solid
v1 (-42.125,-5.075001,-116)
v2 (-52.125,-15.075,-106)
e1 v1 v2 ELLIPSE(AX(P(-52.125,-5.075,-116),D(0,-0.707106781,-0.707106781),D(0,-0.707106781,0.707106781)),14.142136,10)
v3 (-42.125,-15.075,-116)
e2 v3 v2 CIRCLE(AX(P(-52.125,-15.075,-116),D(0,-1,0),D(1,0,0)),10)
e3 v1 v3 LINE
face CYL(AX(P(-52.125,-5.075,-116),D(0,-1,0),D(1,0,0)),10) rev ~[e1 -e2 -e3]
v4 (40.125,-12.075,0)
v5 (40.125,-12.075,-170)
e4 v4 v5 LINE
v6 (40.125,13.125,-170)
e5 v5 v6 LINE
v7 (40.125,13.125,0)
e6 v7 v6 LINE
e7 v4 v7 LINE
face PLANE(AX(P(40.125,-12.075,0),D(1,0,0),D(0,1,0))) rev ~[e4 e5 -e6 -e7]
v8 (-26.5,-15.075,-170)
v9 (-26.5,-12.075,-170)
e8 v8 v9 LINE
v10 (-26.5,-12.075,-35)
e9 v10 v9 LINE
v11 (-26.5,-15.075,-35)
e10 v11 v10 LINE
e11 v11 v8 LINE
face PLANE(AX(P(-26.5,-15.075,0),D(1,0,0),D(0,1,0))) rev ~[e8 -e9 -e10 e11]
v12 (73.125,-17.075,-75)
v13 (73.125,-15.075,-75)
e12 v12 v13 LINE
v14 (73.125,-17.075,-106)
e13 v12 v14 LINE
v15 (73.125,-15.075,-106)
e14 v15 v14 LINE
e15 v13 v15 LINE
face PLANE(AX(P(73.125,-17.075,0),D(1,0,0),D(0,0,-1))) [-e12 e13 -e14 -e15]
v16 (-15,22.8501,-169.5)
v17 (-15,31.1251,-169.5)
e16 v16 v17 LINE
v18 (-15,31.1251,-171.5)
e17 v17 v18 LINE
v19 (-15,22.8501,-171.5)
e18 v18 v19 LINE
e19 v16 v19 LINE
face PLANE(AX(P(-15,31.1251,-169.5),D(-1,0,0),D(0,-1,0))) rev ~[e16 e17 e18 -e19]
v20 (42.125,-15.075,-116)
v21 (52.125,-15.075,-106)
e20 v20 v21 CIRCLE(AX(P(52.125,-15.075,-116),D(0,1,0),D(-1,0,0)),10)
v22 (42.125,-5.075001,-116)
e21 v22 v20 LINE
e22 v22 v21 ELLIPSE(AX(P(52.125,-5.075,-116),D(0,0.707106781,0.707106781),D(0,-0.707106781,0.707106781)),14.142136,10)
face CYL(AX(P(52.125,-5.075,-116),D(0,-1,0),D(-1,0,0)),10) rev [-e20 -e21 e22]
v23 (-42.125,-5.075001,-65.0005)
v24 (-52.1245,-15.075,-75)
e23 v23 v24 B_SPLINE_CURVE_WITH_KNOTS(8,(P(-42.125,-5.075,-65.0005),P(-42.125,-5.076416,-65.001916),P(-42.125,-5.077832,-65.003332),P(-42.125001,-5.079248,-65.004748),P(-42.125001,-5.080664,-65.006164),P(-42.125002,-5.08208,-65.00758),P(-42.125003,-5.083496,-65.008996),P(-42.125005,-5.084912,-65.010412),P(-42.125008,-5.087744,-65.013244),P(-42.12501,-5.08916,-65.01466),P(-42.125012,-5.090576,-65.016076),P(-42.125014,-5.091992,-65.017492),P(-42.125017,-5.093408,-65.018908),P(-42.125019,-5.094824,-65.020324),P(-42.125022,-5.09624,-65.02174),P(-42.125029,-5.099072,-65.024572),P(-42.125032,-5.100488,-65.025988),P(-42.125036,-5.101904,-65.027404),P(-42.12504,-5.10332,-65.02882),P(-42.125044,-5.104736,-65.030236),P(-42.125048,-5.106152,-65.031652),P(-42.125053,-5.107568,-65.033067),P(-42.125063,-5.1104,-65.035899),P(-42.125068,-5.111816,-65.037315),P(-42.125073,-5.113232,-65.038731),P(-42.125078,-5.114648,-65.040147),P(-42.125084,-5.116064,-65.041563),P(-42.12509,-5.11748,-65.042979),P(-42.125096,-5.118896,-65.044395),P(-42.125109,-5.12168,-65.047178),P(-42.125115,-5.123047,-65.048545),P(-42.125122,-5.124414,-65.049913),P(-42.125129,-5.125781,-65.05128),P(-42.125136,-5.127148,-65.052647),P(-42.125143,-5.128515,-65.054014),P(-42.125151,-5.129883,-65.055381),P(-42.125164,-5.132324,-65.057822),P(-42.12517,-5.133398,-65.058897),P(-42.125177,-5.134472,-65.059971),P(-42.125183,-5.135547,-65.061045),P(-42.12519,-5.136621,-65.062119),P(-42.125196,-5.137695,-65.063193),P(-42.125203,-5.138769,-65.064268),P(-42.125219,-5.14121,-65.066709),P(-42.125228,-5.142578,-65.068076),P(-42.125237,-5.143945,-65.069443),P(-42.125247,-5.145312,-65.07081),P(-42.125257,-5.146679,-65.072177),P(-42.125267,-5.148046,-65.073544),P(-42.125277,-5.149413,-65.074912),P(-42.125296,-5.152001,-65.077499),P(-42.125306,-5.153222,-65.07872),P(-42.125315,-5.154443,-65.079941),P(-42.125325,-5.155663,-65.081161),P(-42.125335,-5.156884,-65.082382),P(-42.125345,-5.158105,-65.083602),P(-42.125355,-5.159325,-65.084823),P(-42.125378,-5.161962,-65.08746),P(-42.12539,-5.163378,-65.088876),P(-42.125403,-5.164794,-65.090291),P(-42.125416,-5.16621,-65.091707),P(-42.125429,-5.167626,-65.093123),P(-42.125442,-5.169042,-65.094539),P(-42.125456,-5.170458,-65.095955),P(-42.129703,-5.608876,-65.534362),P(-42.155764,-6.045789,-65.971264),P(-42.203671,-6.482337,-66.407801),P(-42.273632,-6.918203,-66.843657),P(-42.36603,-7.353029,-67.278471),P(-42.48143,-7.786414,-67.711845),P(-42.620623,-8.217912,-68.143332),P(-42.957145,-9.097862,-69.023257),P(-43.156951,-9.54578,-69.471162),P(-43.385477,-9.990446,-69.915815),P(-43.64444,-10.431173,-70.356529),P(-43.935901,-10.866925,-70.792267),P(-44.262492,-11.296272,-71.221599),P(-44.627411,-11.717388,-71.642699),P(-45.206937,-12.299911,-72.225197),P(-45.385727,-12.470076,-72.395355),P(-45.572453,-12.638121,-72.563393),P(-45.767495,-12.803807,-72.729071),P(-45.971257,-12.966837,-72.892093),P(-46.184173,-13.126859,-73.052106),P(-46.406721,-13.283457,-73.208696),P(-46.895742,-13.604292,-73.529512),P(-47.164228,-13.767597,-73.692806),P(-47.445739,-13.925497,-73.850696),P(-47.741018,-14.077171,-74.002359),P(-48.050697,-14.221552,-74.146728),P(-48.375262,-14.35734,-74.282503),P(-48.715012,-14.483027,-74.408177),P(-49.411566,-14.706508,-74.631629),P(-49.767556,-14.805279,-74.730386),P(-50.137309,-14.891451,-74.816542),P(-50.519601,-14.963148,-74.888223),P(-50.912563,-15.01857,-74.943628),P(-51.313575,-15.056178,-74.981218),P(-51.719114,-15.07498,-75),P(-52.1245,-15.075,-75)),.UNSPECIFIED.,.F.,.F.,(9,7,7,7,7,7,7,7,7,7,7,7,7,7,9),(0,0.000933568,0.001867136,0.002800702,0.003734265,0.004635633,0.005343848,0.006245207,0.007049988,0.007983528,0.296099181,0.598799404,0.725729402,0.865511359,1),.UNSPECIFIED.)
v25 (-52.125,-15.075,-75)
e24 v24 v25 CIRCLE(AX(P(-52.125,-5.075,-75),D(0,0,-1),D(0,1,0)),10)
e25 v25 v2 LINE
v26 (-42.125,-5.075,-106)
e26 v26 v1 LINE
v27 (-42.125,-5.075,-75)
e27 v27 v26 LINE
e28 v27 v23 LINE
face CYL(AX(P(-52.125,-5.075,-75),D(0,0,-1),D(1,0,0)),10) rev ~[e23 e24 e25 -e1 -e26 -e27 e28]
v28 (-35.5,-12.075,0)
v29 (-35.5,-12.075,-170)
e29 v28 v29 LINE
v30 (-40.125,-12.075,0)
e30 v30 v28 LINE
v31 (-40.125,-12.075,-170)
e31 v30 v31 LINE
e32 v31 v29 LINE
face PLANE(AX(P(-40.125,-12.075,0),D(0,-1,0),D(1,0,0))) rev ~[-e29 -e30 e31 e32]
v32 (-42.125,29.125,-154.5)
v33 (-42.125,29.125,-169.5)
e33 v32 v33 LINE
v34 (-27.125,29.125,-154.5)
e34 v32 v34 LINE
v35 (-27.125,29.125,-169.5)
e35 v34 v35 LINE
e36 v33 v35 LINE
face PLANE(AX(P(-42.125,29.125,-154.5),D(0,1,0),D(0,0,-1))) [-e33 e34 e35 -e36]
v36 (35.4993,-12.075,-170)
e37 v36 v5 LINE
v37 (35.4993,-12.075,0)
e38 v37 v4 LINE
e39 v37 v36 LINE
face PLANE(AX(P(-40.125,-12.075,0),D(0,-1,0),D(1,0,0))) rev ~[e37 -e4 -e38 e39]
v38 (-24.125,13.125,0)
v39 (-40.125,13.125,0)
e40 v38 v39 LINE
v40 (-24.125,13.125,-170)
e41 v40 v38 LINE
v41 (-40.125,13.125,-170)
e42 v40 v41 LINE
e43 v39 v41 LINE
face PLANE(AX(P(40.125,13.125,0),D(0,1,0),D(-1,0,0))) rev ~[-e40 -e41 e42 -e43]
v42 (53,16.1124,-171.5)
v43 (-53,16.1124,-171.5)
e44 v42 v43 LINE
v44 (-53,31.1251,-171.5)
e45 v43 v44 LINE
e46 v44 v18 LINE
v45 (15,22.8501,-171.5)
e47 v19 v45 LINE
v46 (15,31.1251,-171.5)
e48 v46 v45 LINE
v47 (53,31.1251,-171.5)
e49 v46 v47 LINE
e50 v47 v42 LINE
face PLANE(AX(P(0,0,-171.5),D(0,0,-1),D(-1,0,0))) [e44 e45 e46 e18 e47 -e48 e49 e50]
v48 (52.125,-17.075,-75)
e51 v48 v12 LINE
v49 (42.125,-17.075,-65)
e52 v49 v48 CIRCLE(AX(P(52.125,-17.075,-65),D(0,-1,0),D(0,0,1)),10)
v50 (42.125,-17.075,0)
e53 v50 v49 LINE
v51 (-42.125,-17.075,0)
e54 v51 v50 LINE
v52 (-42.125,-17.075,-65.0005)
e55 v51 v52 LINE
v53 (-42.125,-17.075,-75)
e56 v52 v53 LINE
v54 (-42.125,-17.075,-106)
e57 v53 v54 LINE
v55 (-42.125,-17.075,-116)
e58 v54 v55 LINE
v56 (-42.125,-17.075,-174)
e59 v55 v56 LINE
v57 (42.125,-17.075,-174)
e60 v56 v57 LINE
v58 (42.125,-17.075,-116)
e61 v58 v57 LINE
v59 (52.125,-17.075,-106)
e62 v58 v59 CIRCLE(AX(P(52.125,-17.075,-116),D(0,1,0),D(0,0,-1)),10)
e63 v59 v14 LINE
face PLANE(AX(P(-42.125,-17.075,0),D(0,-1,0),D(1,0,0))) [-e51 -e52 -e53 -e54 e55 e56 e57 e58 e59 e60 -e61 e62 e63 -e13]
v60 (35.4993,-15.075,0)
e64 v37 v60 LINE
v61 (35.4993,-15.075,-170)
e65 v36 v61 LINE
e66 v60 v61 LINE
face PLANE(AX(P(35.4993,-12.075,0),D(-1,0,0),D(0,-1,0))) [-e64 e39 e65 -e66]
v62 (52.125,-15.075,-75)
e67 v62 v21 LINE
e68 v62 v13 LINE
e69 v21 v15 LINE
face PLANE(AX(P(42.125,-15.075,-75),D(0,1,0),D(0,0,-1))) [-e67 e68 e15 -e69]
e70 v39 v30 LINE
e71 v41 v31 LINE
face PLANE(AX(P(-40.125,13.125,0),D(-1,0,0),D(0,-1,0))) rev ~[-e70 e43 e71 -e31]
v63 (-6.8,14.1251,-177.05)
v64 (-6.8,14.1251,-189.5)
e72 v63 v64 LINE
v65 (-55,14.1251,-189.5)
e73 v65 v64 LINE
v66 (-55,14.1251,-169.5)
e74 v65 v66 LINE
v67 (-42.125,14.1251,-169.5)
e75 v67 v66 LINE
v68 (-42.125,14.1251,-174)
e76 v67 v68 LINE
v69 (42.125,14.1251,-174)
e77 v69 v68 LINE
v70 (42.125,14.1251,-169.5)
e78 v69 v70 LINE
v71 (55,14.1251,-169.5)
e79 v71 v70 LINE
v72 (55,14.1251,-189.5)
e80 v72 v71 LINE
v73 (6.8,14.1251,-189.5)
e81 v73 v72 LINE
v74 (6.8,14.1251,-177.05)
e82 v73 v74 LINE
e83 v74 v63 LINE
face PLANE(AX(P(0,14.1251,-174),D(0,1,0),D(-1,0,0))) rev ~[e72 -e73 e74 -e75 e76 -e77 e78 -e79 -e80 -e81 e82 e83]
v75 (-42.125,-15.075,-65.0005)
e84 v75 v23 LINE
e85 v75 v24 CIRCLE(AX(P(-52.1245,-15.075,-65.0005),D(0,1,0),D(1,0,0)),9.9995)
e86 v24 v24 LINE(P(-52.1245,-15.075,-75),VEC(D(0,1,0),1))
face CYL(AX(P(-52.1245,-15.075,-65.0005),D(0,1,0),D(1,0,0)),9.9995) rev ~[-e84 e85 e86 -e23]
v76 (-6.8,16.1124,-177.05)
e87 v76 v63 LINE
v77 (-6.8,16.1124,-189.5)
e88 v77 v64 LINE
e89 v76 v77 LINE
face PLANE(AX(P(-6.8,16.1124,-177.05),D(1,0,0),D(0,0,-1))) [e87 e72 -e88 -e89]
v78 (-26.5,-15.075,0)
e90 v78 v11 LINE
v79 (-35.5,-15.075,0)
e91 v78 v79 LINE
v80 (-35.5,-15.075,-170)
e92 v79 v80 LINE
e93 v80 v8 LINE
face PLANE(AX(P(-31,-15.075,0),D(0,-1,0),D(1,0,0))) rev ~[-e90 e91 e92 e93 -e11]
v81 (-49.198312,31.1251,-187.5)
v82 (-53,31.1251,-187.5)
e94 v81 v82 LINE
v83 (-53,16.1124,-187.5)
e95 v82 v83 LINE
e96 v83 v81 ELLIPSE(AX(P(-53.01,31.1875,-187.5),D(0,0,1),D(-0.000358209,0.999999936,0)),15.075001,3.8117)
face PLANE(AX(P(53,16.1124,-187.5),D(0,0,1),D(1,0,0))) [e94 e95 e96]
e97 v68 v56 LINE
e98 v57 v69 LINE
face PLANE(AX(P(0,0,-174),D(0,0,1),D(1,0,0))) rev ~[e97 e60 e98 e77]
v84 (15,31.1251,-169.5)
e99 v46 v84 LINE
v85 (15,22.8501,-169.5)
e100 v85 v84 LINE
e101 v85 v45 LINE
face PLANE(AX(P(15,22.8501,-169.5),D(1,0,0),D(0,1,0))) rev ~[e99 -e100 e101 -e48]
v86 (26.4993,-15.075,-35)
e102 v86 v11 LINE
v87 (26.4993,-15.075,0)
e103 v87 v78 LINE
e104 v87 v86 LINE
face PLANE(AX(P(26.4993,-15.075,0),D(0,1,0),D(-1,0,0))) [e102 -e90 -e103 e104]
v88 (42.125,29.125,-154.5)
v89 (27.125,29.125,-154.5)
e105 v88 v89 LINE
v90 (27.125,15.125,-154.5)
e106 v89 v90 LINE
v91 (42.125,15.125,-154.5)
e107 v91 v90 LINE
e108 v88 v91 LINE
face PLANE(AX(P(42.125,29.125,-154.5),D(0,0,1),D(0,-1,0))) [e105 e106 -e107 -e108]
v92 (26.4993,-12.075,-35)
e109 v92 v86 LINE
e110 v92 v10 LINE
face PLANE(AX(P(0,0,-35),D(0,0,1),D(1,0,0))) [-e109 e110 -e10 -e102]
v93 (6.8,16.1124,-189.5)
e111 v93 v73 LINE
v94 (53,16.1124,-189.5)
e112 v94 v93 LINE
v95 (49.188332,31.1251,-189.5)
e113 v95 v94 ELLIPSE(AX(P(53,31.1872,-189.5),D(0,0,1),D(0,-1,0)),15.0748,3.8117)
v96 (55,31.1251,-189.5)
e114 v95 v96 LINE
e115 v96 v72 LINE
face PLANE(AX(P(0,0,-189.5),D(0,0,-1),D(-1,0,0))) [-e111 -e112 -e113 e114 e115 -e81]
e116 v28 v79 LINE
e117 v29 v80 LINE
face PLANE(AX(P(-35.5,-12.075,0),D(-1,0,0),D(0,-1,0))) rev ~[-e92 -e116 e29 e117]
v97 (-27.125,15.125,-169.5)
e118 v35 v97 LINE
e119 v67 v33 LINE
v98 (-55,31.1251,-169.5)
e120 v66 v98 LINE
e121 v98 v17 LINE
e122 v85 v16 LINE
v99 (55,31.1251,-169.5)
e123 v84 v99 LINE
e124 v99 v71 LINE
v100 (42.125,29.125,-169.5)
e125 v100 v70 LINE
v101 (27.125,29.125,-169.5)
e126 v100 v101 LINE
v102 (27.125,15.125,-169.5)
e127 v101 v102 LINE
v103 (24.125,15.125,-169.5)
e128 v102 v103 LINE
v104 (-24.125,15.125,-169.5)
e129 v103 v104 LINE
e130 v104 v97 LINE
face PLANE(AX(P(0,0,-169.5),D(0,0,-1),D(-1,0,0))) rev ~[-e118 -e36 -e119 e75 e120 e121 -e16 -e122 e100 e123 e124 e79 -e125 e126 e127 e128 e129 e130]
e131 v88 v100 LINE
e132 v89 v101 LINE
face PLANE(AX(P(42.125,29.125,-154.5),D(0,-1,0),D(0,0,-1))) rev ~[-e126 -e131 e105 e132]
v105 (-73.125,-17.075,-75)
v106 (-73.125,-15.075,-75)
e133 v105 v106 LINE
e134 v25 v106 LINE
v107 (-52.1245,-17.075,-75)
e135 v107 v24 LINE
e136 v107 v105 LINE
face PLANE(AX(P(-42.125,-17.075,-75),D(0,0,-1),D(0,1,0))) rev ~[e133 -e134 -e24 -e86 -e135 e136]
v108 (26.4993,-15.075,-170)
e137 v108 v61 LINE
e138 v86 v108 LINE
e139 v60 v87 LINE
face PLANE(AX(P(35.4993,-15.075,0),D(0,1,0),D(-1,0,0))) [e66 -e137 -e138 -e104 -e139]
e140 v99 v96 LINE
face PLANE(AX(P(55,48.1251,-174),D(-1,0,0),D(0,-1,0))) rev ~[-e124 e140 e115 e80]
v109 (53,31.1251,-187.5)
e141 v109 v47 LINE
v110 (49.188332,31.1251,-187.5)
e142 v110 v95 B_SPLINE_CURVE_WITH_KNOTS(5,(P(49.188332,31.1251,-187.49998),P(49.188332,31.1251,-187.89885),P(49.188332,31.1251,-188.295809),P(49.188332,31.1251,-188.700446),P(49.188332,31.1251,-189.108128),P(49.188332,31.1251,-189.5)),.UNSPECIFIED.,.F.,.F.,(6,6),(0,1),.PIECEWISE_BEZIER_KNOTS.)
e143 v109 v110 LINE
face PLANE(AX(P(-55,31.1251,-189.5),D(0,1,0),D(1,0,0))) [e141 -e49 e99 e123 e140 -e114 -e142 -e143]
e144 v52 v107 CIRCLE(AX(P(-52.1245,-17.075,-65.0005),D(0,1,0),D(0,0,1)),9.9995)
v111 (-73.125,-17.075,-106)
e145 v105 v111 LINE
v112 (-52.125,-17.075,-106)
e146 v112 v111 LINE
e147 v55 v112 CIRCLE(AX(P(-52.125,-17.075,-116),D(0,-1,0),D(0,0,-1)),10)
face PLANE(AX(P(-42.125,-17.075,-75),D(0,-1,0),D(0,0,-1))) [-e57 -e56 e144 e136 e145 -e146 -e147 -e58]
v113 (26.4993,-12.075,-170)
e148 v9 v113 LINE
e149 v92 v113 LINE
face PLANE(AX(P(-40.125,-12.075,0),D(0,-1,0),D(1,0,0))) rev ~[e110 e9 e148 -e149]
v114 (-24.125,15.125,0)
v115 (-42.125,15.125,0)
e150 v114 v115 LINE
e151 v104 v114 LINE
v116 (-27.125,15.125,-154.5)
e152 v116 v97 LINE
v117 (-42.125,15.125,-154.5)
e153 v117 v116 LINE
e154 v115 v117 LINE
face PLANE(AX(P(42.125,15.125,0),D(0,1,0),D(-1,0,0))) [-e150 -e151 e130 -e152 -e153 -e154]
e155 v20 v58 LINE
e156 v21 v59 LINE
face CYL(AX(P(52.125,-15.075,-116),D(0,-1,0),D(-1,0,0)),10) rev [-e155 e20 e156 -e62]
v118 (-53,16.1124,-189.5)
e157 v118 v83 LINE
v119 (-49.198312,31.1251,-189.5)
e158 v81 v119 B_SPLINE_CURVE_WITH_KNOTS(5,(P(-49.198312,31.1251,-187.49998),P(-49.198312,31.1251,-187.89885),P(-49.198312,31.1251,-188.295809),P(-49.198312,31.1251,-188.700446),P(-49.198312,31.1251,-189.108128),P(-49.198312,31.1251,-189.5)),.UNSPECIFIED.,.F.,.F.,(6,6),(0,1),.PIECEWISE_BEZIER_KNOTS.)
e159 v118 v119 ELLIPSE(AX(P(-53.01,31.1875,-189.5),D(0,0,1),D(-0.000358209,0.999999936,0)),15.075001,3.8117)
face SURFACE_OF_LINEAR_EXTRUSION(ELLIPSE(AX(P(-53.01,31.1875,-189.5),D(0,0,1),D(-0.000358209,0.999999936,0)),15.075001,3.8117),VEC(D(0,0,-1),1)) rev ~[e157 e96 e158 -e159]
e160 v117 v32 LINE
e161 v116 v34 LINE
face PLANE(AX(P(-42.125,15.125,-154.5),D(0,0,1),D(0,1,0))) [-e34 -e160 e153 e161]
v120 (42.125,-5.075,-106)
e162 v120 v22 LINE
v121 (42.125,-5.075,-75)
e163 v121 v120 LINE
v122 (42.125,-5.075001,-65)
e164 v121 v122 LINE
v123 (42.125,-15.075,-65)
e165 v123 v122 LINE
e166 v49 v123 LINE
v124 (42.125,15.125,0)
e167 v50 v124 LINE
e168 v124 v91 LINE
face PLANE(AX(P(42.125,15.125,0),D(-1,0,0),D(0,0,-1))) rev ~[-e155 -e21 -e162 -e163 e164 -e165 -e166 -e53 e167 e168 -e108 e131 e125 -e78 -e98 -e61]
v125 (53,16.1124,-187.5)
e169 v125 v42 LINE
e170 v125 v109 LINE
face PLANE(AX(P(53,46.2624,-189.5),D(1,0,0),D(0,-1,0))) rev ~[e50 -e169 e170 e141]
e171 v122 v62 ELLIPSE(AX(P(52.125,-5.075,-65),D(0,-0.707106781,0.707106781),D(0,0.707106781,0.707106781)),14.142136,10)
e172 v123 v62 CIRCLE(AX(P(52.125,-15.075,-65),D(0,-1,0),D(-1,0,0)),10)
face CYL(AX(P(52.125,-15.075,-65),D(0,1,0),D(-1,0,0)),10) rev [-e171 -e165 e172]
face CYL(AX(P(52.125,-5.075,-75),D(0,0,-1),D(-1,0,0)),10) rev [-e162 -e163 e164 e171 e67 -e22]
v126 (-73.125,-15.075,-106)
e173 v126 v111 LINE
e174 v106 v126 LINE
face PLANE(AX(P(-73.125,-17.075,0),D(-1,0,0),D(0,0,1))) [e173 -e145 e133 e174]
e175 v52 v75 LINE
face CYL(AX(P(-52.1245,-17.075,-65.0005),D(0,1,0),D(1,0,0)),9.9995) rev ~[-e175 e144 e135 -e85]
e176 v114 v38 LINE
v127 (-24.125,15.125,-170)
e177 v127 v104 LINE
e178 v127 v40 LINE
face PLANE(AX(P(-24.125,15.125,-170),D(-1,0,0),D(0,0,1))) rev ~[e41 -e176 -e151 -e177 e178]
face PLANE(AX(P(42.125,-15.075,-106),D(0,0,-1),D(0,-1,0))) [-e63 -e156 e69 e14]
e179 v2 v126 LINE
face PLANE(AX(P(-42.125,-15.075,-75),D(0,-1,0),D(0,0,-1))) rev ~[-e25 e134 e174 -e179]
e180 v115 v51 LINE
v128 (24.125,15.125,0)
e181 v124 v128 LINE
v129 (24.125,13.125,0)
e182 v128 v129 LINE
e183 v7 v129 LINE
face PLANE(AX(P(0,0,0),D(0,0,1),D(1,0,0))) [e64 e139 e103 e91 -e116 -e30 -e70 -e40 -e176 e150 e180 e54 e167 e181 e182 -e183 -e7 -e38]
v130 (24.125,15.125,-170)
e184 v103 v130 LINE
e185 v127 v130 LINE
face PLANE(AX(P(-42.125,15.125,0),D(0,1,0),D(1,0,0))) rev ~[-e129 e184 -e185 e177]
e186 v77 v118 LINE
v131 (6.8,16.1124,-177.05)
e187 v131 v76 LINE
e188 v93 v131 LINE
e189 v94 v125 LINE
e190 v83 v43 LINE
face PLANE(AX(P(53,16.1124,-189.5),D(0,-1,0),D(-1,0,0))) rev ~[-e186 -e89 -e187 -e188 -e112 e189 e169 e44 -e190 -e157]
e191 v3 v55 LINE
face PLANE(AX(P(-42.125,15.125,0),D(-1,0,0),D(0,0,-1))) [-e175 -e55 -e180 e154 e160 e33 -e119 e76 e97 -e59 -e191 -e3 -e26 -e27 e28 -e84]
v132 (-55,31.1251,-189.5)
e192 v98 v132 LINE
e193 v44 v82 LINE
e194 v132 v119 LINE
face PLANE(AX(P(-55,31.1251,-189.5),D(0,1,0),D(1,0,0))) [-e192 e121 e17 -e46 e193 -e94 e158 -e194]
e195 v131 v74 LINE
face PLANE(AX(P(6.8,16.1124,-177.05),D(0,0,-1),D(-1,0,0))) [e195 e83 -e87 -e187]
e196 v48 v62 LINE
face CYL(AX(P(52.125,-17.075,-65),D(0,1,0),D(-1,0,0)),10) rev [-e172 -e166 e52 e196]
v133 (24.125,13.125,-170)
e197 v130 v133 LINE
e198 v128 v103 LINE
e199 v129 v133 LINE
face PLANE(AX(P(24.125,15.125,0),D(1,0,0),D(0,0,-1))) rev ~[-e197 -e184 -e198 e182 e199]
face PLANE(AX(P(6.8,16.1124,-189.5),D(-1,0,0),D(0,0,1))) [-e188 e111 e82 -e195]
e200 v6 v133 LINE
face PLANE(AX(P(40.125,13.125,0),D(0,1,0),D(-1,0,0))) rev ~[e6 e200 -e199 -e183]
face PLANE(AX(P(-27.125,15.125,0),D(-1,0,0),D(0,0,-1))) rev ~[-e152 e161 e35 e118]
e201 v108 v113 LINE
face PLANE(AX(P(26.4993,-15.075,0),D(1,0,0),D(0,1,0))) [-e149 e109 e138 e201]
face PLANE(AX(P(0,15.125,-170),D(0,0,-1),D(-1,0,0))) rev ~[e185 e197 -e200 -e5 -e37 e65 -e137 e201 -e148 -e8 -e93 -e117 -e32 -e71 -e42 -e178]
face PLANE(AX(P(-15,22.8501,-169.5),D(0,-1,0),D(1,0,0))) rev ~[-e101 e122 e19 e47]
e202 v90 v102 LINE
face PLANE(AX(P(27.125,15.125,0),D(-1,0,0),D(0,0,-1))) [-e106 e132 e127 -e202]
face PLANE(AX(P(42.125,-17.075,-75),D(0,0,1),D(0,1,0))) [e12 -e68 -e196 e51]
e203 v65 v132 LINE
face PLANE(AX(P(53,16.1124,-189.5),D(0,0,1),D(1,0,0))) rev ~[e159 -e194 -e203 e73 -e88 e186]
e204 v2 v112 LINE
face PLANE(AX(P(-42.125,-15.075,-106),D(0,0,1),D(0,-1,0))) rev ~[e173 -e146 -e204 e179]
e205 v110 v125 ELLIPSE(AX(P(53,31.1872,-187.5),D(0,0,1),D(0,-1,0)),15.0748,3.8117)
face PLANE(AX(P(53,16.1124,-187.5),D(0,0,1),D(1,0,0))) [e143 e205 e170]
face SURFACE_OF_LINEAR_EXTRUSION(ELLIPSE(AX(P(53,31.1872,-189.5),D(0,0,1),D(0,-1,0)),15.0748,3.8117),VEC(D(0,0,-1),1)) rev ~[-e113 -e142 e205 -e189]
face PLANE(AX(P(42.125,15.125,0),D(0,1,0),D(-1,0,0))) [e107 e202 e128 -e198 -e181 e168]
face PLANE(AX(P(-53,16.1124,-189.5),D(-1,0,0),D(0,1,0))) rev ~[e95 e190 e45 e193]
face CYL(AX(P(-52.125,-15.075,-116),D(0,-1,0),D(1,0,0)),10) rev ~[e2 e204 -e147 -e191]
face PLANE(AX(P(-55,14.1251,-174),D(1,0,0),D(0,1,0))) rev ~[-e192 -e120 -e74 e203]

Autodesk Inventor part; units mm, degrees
ref_plane "YZ Plane" through (0, 0, 0) normal (1, 0, 0) x (0, 1, 0)
sketch "スケッチ1" plane through (0, 0, 0) normal (0, 0, 1) x (1, 0, 0)
  line L0 (-42.125, -17.075) -> (42.125, -17.075)
  line L1 (42.125, -17.075) -> (42.125, 15.125)
  line L2 (42.125, 15.125) -> (-42.125, 15.125)
  line L3 (-42.125, 15.125) -> (-42.125, -17.075)
  point P0 (0, 0)
  dimension "d0" = 84.25
  dimension "d1" = 32.2
  dimension "d140" = 15.125
extrude "本体＿側" add sketch "スケッチ1" against normal blind 174
sketch "スケッチ3" plane through (0, 0, 0) normal (0, 0, 1) x (1, 0, 0)
  line L0 (-40.125, -12.075) -> (40.125, -12.075)
  line L1 (40.125, -12.075) -> (40.125, 13.125)
  line L2 (40.125, 13.125) -> (-40.125, 13.125)
  line L3 (-40.125, 13.125) -> (-40.125, -12.075)
  line L4 (42.125, 15.125) -> (-42.125, 15.125) projected
  line L5 (-42.125, -17.075) -> (42.125, -17.075) projected
  line L6 (-42.125, 15.125) -> (-42.125, -17.075) projected
  dimension "d4" = 80.25
  dimension "d125" = 2
  dimension "d138" = 2
  dimension "d139" = 25.2
extrude "本体" cut sketch "スケッチ3" against normal blind 170
sketch "スケッチ6" plane through (0, 0, -174) normal (0, 0, -1) x (-1, 0, 0)
  line L0 (55, 48.1251) -> (-55, 48.1251)
  line L1 (-55, 48.1251) -> (-55, 14.1251)
  line L2 (-55, 14.1251) -> (55, 14.1251)
  line L3 (55, 14.1251) -> (55, 48.1251)
  line L4 (55, 48.1251) -> (-55, 14.1251) construction
  line L5 (-55, 48.1251) -> (55, 14.1251) construction
  line L6 (0, 0) -> (0, 97.4837)
  point P0 (0, 31.1251)
  point P1 (0, 31.1251)
  dimension "d8" = 110
  dimension "d9" = 34
extrude "カメラ" add sketch "スケッチ6" along normal blind 15.5 and the other way blind 4.5
sketch "スケッチ7" plane through (0, 0, -189.5) normal (0, 0, -1) x (-1, 0, 0)
  line L0 (-55, 48.1251) -> (-55, 14.1251) projected
  line L1 (-53, 16.1124) -> (53, 16.1124)
  line L2 (53, 16.1124) -> (53, 46.2624)
  line L3 (53, 46.2624) -> (-53, 46.2624)
  line L4 (-53, 46.2624) -> (-53, 16.1124)
  line L5 (-53, 16.1124) -> (53, 46.2624) construction
  line L6 (53, 16.1124) -> (-53, 46.2624) construction
  point P0 (0, 0)
  point P1 (-55, 31.1251)
  point P2 (-55, 31.1251)
  point P3 (0, 31.1874)
  point P4 (0, 31.1874)
  dimension "d14" = 30.15
  dimension "d15" = 106
extrude "カメラ＿本体" cut sketch "スケッチ7" against normal blind 18
ref_plane "作業平面1" through (-55, 31.1251, -189.5) normal (0, 1, 0) x (1, 0, 0)
ref_plane "作業平面2" through (0, 14.1251, -189.5) normal (-1, 0, 0) x (0, 0, 1)
sketch "スケッチ10" plane through (-53, 16.1124, -189.5) normal (0, 1, 0) x (1, 0, 0)
  line L0 (59.8, -12.45) -> (46.2, -12.45)
  line L1 (46.2, -12.45) -> (46.2, 0)
  line L2 (46.2, 0) -> (59.8, 0)
  line L3 (59.8, 0) -> (59.8, -12.45)
  line L4 (59.8, -12.45) -> (46.2, 0) construction
  line L5 (46.2, -12.45) -> (59.8, 0) construction
  line L6 (108, -20) -> (-2, -20)
  line L7 (53, -20) -> (53, -4.9349)
  line L8 (53, -227.4) -> (53, 37.9)
  line L9 (0, 0) -> (106, 0)
  line L10 (0, 0) -> (106, 0)
  line L11 (0, 0) -> (0, -18)
  line L12 (0, -18) -> (106, -18)
  line L13 (106, 0) -> (106, -18)
  point P0 (53, -189.5)
  point P1 (53, -6.225)
  point P2 (53, 0)
  dimension "d22" = 12.45
  dimension "d23" = 13.6
sketch "スケッチ11" plane through (0, 0, -169.5) normal (0, 0, 1) x (1, 0, 0)
  line L0 (-15, 22.8501) -> (15, 22.8501)
  line L1 (15, 22.8501) -> (15, 39.4001)
  line L2 (15, 39.4001) -> (-15, 39.4001)
  line L3 (-15, 39.4001) -> (-15, 22.8501)
  line L4 (-53, 31.1251) -> (53, 31.1251)
  line L5 (-15, 22.8501) -> (15, 39.4001) construction
  line L6 (15, 22.8501) -> (-15, 39.4001) construction
  line L7 (0, -24.4525) -> (0, 47.8399)
  point P0 (0, 0)
  point P1 (0, 31.1251)
  point P2 (0, 31.1251)
  dimension "d26" = 30
  dimension "d27" = 16.55
extrude "突起" cut sketch "スケッチ10" against normal blind 2 contours L0 L7 L8 L2 L3 | L0 L1 L2 L8 L7
extrude "コード" cut sketch "スケッチ11" against normal blind 2
ref_plane "作業平面6" through (53, 16.1124, -189.5) normal (0, 0, 1) x (1, 0, 0)
sketch "スケッチ18" plane through (53, 16.1124, -189.5) normal (0, 0, 1) x (1, 0, 0)
  line L0 (0, 0) -> (0, 30.15) projected
  ellipse E0 centre (0, 15.0748) end of major axis (0, 0) minor radius 3.8117 (0, 30.1495) -> (0, 0) ccw
  line L1 (0, 30.15) -> (-106, 30.15) projected
  line L2 (-106, 0) -> (0, 0) projected
  line L3 (0, 30.15) -> (0, 0)
  point P0 (-53, -16.1124)
extrude "半円１" add sketch "スケッチ18" along normal blind 2
sketch "スケッチ19" plane through (53, 16.1124, -189.5) normal (0, 0, 1) x (1, 0, 0)
  line L0 (-106, 30.15) -> (-106, 0) projected
  ellipse E0 centre (-106.01, 15.0751) end of major axis (-106.0154, 30.1501) minor radius 3.8117 (-106.01, 0) -> (-106.01, 30.1501) ccw
  line L1 (-38, 6.7377) -> (-38, 23.2877) projected
  line L2 (-38, 23.2877) -> (-68, 23.2877) projected
  line L3 (-68, 23.2877) -> (-68, 6.7377) projected
  line L4 (-68, 6.7377) -> (-38, 6.7377) projected
  line L5 (-106, 0) -> (0, 0) projected
  line L6 (-106, 30.15) -> (-106, 0) projected
  line L7 (0, 30.15) -> (-106, 30.15) projected
  line L8 (0, 0) -> (0, 30.15) projected
  line L9 (-106, 0) -> (0, 0) projected
  line L10 (0, 30.15) -> (-106, 30.15) projected
  line L11 (-106, 0) -> (-106, 30.15)
  point P0 (-53, -16.1124)
extrude "半円2" add sketch "スケッチ19" along normal blind 2 contours E0 L0
sketch "スケッチ16" plane through (-55, 31.1251, -189.5) normal (0, 1, 0) x (1, 0, 0)
  line L0 (110, -20) -> (110, 0) projected
  line L1 (0, -20) -> (0, 0) projected
  line L2 (110, 0) -> (0, 0)
  line L3 (0, 0) -> (0, -20)
  line L4 (0, -20) -> (110, -20)
  line L5 (110, -20) -> (110, 0)
  point P0 (55, -189.5)
extrude "上半分消去" cut sketch "スケッチ16" along normal blind 17
sketch "スケッチ20" plane through (-42.125, 15.125, 0) normal (0, 1, 0) x (1, 0, 0)
  line L0 (18, 0) -> (66.25, 0)
  line L1 (66.25, 0) -> (66.25, 170)
  line L2 (66.25, 170) -> (18, 170)
  line L3 (18, 170) -> (18, 0)
  line L4 (18, 0) -> (66.25, 170) construction
  line L5 (66.25, 0) -> (18, 170) construction
  line L6 (84.25, 0) -> (0, 0) projected
  line L7 (42.125, -37.9) -> (42.125, 227.4) projected
  point P0 (42.125, 85)
  point P1 (42.125, 0)
  point P2 (42.125, 85)
  dimension "d47" = 170
  dimension "d91" = 18
extrude "ボタン部" cut sketch "スケッチ20" against normal blind 2
ref_plane "作業平面7" through (-42.125, 15.125, 0) normal (-1, 0, 0) x (0, 0, -1)
sketch "スケッチ22" plane through (-42.125, 15.125, 0) normal (-1, 0, 0) x (0, 0, -1)
  line L0 (0, 0) -> (174, 0) projected
  line L1 (169.5, 0) -> (154.5, 0)
  line L2 (154.5, 0) -> (154.5, -14)
  line L3 (154.5, -14) -> (169.5, -14)
  line L4 (169.5, -14) -> (169.5, 0)
  point P0 (0, 15.125)
  point P1 (169.5, 0.9999)
  dimension "d51" = 15
  dimension "d52" = 14
extrude "支え１" add sketch "スケッチ22" against normal blind 15
ref_plane "作業平面8" through (42.125, 15.125, 0) normal (-1, 0, 0) x (0, 0, -1)
sketch "スケッチ23" plane through (42.125, 15.125, 0) normal (-1, 0, 0) x (0, 0, -1)
  line L0 (0, 0) -> (174, 0) projected
  line L1 (154.5, -14) -> (154.5, 0) projected
  line L2 (169.5, 0) -> (154.5, 0)
  line L3 (154.5, 0) -> (154.5, -14)
  line L4 (154.5, -14) -> (169.5, -14)
  line L5 (169.5, -14) -> (169.5, 0)
  point P0 (0, 15.125)
  dimension "d55" = 15
  dimension "d56" = 14
extrude "支え２" add sketch "スケッチ23" along normal blind 15
ref_plane "作業平面9" through (42.125, -17.075, 0) normal (0, 0, 1) x (0, 1, 0)
sketch "スケッチ24" plane through (42.125, -17.075, 0) normal (0, 0, 1) x (0, 1, 0)
  line L0 (0, 84.25) -> (31.2001, 84.25) projected
  line L1 (0, 0) -> (0, 84.25) projected
  line L2 (28.25, 84.25) -> (0, 84.25)
  line L3 (0, 84.25) -> (0, 0)
  line L4 (0, 0) -> (28.25, 0)
  line L5 (28.25, 0) -> (28.25, 84.25)
  point P0 (17.075, 42.125)
extrude "削除予定" [suppressed]
sketch "スケッチ43" plane through (0, 0, 0) normal (0, 0, 1) x (1, 0, 0)
  line L0 (40.125, -12.075) -> (-40.125, -12.075) projected
  line L1 (0, -12.075) -> (31, -12.075)
  line L2 (26.4993, -15.075) -> (26.4993, -12.075)
  line L3 (26.4993, -12.075) -> (35.4993, -12.075)
  line L4 (35.4993, -12.075) -> (35.4993, -15.075)
  line L5 (35.4993, -15.075) -> (26.4993, -15.075)
  line L6 (26.4993, -15.075) -> (35.4993, -12.075) construction
  line L7 (26.4993, -12.075) -> (35.4993, -15.075) construction
  line L8 (30.9993, -12.075) -> (30.9993, -17.075)
  line L9 (-42.125, -17.075) -> (42.125, -17.075) projected
  point P0 (0, 0)
  point P1 (31, -12.125)
  dimension "d127" = 31
  dimension "d128" = 3
  dimension "d130" = 9
extrude "ネジ山溝１" cut sketch "スケッチ43" against normal blind 170
sketch "スケッチ44" plane through (0, 0, 0) normal (0, 0, 1) x (1, 0, 0)
  line L0 (26.4993, -12.075) -> (-40.125, -12.075) projected
  line L1 (0, -12.075) -> (-31, -12.075)
  line L2 (0, -30.115) -> (0, 61.1651) projected
  line L3 (-26.5, -15.075) -> (-26.5, -12.075)
  line L4 (-26.5, -12.075) -> (-35.5, -12.075)
  line L5 (-35.5, -12.075) -> (-35.5, -15.075)
  line L6 (-35.5, -15.075) -> (-26.5, -15.075)
  line L7 (-26.5, -15.075) -> (-35.5, -12.075) construction
  line L8 (-26.5, -12.075) -> (-35.5, -15.075) construction
  line L9 (-42.125, -17.075) -> (42.125, -17.075) projected
  line L10 (-31, -17.075) -> (-31, -12.075)
  point P0 (0, 0)
  point P1 (-31, -13.575)
  point P2 (-31, -13.575)
  dimension "d133" = 31
  dimension "d134" = 9
  dimension "d135" = 3
extrude "ネジ山溝２" cut sketch "スケッチ44" against normal blind 170 contours L3 L6 L10 L0 | L10 L6 L5 L0
sketch "スケッチ47" plane through (42.125, -17.075, 0) normal (1, 0, 0) x (0, 0, -1)
  line L0 (0, 0) -> (174, 0) projected
  line L1 (75, 2) -> (106, 2)
  line L2 (106, 2) -> (106, 0)
  line L3 (106, 0) -> (75, 0)
  line L4 (75, 0) -> (75, 2)
  line L5 (174, 31.2001) -> (174, 0) projected
  point P0 (0, 17.075)
  dimension "d141" = 68
  dimension "d142" = 31
  dimension "d145" = 2
extrude "押し出し28" add sketch "スケッチ47" along normal blind 31
sketch "スケッチ48" plane through (42.125, -15.075, -75) normal (0, 1, 0) x (1, 0, 0)
  point P0 (-42.125, -75)
fillet "フィレット1" radius 10 1 edges at (42.125, -15.075, -90.5)
fillet "フィレット2" radius 10 1 edges at (42.125, -16.075, -106)
fillet "フィレット3" radius 10 1 edges at (42.125, -16.075, -75)
sketch "スケッチ49" plane through (-42.125, -17.075, 0) normal (-1, 0, 0) x (0, 0, 1)
  line L0 (0, 0) -> (-174, 0) projected
  line L1 (-106, 0) -> (-75, 0)
  line L2 (-75, 0) -> (-75, 2)
  line L3 (-75, 2) -> (-106, 2)
  line L4 (-106, 2) -> (-106, 0)
  line L5 (-174, 0) -> (-174, 31.2001) projected
  point P0 (0, 17.075)
  dimension "d149" = 68
  dimension "d150" = 31
  dimension "d151" = 2
extrude "押し出し29" add sketch "スケッチ49" along normal blind 31
fillet "フィレット4" radius 10 1 edges at (-42.125, -15.075, -90.5)
fillet "フィレット5" radius 10 1 edges at (-42.125, -16.075, -75)
fillet "フィレット6" radius 10 1 edges at (-42.125, -16.075, -106)
sketch "スケッチ56" plane through (0, 0, 0) normal (0, 0, 1) x (1, 0, 0)
  line L0 (26.4993, -12.075) -> (-26.5, -12.075) projected
  line L1 (35.4993, -15.075) -> (26.4993, -15.075) projected
  line L2 (-26.5, -12.075) -> (26.4993, -12.075)
  line L3 (26.4993, -12.075) -> (26.4993, -15.075)
  line L4 (26.4993, -15.075) -> (-26.5, -15.075)
  line L5 (-26.5, -15.075) -> (-26.5, -12.075)
  point P0 (0, 0)
extrude "キャスターネジ溝" cut sketch "スケッチ56" against normal blind 35
properties part number "battery_case_1"
